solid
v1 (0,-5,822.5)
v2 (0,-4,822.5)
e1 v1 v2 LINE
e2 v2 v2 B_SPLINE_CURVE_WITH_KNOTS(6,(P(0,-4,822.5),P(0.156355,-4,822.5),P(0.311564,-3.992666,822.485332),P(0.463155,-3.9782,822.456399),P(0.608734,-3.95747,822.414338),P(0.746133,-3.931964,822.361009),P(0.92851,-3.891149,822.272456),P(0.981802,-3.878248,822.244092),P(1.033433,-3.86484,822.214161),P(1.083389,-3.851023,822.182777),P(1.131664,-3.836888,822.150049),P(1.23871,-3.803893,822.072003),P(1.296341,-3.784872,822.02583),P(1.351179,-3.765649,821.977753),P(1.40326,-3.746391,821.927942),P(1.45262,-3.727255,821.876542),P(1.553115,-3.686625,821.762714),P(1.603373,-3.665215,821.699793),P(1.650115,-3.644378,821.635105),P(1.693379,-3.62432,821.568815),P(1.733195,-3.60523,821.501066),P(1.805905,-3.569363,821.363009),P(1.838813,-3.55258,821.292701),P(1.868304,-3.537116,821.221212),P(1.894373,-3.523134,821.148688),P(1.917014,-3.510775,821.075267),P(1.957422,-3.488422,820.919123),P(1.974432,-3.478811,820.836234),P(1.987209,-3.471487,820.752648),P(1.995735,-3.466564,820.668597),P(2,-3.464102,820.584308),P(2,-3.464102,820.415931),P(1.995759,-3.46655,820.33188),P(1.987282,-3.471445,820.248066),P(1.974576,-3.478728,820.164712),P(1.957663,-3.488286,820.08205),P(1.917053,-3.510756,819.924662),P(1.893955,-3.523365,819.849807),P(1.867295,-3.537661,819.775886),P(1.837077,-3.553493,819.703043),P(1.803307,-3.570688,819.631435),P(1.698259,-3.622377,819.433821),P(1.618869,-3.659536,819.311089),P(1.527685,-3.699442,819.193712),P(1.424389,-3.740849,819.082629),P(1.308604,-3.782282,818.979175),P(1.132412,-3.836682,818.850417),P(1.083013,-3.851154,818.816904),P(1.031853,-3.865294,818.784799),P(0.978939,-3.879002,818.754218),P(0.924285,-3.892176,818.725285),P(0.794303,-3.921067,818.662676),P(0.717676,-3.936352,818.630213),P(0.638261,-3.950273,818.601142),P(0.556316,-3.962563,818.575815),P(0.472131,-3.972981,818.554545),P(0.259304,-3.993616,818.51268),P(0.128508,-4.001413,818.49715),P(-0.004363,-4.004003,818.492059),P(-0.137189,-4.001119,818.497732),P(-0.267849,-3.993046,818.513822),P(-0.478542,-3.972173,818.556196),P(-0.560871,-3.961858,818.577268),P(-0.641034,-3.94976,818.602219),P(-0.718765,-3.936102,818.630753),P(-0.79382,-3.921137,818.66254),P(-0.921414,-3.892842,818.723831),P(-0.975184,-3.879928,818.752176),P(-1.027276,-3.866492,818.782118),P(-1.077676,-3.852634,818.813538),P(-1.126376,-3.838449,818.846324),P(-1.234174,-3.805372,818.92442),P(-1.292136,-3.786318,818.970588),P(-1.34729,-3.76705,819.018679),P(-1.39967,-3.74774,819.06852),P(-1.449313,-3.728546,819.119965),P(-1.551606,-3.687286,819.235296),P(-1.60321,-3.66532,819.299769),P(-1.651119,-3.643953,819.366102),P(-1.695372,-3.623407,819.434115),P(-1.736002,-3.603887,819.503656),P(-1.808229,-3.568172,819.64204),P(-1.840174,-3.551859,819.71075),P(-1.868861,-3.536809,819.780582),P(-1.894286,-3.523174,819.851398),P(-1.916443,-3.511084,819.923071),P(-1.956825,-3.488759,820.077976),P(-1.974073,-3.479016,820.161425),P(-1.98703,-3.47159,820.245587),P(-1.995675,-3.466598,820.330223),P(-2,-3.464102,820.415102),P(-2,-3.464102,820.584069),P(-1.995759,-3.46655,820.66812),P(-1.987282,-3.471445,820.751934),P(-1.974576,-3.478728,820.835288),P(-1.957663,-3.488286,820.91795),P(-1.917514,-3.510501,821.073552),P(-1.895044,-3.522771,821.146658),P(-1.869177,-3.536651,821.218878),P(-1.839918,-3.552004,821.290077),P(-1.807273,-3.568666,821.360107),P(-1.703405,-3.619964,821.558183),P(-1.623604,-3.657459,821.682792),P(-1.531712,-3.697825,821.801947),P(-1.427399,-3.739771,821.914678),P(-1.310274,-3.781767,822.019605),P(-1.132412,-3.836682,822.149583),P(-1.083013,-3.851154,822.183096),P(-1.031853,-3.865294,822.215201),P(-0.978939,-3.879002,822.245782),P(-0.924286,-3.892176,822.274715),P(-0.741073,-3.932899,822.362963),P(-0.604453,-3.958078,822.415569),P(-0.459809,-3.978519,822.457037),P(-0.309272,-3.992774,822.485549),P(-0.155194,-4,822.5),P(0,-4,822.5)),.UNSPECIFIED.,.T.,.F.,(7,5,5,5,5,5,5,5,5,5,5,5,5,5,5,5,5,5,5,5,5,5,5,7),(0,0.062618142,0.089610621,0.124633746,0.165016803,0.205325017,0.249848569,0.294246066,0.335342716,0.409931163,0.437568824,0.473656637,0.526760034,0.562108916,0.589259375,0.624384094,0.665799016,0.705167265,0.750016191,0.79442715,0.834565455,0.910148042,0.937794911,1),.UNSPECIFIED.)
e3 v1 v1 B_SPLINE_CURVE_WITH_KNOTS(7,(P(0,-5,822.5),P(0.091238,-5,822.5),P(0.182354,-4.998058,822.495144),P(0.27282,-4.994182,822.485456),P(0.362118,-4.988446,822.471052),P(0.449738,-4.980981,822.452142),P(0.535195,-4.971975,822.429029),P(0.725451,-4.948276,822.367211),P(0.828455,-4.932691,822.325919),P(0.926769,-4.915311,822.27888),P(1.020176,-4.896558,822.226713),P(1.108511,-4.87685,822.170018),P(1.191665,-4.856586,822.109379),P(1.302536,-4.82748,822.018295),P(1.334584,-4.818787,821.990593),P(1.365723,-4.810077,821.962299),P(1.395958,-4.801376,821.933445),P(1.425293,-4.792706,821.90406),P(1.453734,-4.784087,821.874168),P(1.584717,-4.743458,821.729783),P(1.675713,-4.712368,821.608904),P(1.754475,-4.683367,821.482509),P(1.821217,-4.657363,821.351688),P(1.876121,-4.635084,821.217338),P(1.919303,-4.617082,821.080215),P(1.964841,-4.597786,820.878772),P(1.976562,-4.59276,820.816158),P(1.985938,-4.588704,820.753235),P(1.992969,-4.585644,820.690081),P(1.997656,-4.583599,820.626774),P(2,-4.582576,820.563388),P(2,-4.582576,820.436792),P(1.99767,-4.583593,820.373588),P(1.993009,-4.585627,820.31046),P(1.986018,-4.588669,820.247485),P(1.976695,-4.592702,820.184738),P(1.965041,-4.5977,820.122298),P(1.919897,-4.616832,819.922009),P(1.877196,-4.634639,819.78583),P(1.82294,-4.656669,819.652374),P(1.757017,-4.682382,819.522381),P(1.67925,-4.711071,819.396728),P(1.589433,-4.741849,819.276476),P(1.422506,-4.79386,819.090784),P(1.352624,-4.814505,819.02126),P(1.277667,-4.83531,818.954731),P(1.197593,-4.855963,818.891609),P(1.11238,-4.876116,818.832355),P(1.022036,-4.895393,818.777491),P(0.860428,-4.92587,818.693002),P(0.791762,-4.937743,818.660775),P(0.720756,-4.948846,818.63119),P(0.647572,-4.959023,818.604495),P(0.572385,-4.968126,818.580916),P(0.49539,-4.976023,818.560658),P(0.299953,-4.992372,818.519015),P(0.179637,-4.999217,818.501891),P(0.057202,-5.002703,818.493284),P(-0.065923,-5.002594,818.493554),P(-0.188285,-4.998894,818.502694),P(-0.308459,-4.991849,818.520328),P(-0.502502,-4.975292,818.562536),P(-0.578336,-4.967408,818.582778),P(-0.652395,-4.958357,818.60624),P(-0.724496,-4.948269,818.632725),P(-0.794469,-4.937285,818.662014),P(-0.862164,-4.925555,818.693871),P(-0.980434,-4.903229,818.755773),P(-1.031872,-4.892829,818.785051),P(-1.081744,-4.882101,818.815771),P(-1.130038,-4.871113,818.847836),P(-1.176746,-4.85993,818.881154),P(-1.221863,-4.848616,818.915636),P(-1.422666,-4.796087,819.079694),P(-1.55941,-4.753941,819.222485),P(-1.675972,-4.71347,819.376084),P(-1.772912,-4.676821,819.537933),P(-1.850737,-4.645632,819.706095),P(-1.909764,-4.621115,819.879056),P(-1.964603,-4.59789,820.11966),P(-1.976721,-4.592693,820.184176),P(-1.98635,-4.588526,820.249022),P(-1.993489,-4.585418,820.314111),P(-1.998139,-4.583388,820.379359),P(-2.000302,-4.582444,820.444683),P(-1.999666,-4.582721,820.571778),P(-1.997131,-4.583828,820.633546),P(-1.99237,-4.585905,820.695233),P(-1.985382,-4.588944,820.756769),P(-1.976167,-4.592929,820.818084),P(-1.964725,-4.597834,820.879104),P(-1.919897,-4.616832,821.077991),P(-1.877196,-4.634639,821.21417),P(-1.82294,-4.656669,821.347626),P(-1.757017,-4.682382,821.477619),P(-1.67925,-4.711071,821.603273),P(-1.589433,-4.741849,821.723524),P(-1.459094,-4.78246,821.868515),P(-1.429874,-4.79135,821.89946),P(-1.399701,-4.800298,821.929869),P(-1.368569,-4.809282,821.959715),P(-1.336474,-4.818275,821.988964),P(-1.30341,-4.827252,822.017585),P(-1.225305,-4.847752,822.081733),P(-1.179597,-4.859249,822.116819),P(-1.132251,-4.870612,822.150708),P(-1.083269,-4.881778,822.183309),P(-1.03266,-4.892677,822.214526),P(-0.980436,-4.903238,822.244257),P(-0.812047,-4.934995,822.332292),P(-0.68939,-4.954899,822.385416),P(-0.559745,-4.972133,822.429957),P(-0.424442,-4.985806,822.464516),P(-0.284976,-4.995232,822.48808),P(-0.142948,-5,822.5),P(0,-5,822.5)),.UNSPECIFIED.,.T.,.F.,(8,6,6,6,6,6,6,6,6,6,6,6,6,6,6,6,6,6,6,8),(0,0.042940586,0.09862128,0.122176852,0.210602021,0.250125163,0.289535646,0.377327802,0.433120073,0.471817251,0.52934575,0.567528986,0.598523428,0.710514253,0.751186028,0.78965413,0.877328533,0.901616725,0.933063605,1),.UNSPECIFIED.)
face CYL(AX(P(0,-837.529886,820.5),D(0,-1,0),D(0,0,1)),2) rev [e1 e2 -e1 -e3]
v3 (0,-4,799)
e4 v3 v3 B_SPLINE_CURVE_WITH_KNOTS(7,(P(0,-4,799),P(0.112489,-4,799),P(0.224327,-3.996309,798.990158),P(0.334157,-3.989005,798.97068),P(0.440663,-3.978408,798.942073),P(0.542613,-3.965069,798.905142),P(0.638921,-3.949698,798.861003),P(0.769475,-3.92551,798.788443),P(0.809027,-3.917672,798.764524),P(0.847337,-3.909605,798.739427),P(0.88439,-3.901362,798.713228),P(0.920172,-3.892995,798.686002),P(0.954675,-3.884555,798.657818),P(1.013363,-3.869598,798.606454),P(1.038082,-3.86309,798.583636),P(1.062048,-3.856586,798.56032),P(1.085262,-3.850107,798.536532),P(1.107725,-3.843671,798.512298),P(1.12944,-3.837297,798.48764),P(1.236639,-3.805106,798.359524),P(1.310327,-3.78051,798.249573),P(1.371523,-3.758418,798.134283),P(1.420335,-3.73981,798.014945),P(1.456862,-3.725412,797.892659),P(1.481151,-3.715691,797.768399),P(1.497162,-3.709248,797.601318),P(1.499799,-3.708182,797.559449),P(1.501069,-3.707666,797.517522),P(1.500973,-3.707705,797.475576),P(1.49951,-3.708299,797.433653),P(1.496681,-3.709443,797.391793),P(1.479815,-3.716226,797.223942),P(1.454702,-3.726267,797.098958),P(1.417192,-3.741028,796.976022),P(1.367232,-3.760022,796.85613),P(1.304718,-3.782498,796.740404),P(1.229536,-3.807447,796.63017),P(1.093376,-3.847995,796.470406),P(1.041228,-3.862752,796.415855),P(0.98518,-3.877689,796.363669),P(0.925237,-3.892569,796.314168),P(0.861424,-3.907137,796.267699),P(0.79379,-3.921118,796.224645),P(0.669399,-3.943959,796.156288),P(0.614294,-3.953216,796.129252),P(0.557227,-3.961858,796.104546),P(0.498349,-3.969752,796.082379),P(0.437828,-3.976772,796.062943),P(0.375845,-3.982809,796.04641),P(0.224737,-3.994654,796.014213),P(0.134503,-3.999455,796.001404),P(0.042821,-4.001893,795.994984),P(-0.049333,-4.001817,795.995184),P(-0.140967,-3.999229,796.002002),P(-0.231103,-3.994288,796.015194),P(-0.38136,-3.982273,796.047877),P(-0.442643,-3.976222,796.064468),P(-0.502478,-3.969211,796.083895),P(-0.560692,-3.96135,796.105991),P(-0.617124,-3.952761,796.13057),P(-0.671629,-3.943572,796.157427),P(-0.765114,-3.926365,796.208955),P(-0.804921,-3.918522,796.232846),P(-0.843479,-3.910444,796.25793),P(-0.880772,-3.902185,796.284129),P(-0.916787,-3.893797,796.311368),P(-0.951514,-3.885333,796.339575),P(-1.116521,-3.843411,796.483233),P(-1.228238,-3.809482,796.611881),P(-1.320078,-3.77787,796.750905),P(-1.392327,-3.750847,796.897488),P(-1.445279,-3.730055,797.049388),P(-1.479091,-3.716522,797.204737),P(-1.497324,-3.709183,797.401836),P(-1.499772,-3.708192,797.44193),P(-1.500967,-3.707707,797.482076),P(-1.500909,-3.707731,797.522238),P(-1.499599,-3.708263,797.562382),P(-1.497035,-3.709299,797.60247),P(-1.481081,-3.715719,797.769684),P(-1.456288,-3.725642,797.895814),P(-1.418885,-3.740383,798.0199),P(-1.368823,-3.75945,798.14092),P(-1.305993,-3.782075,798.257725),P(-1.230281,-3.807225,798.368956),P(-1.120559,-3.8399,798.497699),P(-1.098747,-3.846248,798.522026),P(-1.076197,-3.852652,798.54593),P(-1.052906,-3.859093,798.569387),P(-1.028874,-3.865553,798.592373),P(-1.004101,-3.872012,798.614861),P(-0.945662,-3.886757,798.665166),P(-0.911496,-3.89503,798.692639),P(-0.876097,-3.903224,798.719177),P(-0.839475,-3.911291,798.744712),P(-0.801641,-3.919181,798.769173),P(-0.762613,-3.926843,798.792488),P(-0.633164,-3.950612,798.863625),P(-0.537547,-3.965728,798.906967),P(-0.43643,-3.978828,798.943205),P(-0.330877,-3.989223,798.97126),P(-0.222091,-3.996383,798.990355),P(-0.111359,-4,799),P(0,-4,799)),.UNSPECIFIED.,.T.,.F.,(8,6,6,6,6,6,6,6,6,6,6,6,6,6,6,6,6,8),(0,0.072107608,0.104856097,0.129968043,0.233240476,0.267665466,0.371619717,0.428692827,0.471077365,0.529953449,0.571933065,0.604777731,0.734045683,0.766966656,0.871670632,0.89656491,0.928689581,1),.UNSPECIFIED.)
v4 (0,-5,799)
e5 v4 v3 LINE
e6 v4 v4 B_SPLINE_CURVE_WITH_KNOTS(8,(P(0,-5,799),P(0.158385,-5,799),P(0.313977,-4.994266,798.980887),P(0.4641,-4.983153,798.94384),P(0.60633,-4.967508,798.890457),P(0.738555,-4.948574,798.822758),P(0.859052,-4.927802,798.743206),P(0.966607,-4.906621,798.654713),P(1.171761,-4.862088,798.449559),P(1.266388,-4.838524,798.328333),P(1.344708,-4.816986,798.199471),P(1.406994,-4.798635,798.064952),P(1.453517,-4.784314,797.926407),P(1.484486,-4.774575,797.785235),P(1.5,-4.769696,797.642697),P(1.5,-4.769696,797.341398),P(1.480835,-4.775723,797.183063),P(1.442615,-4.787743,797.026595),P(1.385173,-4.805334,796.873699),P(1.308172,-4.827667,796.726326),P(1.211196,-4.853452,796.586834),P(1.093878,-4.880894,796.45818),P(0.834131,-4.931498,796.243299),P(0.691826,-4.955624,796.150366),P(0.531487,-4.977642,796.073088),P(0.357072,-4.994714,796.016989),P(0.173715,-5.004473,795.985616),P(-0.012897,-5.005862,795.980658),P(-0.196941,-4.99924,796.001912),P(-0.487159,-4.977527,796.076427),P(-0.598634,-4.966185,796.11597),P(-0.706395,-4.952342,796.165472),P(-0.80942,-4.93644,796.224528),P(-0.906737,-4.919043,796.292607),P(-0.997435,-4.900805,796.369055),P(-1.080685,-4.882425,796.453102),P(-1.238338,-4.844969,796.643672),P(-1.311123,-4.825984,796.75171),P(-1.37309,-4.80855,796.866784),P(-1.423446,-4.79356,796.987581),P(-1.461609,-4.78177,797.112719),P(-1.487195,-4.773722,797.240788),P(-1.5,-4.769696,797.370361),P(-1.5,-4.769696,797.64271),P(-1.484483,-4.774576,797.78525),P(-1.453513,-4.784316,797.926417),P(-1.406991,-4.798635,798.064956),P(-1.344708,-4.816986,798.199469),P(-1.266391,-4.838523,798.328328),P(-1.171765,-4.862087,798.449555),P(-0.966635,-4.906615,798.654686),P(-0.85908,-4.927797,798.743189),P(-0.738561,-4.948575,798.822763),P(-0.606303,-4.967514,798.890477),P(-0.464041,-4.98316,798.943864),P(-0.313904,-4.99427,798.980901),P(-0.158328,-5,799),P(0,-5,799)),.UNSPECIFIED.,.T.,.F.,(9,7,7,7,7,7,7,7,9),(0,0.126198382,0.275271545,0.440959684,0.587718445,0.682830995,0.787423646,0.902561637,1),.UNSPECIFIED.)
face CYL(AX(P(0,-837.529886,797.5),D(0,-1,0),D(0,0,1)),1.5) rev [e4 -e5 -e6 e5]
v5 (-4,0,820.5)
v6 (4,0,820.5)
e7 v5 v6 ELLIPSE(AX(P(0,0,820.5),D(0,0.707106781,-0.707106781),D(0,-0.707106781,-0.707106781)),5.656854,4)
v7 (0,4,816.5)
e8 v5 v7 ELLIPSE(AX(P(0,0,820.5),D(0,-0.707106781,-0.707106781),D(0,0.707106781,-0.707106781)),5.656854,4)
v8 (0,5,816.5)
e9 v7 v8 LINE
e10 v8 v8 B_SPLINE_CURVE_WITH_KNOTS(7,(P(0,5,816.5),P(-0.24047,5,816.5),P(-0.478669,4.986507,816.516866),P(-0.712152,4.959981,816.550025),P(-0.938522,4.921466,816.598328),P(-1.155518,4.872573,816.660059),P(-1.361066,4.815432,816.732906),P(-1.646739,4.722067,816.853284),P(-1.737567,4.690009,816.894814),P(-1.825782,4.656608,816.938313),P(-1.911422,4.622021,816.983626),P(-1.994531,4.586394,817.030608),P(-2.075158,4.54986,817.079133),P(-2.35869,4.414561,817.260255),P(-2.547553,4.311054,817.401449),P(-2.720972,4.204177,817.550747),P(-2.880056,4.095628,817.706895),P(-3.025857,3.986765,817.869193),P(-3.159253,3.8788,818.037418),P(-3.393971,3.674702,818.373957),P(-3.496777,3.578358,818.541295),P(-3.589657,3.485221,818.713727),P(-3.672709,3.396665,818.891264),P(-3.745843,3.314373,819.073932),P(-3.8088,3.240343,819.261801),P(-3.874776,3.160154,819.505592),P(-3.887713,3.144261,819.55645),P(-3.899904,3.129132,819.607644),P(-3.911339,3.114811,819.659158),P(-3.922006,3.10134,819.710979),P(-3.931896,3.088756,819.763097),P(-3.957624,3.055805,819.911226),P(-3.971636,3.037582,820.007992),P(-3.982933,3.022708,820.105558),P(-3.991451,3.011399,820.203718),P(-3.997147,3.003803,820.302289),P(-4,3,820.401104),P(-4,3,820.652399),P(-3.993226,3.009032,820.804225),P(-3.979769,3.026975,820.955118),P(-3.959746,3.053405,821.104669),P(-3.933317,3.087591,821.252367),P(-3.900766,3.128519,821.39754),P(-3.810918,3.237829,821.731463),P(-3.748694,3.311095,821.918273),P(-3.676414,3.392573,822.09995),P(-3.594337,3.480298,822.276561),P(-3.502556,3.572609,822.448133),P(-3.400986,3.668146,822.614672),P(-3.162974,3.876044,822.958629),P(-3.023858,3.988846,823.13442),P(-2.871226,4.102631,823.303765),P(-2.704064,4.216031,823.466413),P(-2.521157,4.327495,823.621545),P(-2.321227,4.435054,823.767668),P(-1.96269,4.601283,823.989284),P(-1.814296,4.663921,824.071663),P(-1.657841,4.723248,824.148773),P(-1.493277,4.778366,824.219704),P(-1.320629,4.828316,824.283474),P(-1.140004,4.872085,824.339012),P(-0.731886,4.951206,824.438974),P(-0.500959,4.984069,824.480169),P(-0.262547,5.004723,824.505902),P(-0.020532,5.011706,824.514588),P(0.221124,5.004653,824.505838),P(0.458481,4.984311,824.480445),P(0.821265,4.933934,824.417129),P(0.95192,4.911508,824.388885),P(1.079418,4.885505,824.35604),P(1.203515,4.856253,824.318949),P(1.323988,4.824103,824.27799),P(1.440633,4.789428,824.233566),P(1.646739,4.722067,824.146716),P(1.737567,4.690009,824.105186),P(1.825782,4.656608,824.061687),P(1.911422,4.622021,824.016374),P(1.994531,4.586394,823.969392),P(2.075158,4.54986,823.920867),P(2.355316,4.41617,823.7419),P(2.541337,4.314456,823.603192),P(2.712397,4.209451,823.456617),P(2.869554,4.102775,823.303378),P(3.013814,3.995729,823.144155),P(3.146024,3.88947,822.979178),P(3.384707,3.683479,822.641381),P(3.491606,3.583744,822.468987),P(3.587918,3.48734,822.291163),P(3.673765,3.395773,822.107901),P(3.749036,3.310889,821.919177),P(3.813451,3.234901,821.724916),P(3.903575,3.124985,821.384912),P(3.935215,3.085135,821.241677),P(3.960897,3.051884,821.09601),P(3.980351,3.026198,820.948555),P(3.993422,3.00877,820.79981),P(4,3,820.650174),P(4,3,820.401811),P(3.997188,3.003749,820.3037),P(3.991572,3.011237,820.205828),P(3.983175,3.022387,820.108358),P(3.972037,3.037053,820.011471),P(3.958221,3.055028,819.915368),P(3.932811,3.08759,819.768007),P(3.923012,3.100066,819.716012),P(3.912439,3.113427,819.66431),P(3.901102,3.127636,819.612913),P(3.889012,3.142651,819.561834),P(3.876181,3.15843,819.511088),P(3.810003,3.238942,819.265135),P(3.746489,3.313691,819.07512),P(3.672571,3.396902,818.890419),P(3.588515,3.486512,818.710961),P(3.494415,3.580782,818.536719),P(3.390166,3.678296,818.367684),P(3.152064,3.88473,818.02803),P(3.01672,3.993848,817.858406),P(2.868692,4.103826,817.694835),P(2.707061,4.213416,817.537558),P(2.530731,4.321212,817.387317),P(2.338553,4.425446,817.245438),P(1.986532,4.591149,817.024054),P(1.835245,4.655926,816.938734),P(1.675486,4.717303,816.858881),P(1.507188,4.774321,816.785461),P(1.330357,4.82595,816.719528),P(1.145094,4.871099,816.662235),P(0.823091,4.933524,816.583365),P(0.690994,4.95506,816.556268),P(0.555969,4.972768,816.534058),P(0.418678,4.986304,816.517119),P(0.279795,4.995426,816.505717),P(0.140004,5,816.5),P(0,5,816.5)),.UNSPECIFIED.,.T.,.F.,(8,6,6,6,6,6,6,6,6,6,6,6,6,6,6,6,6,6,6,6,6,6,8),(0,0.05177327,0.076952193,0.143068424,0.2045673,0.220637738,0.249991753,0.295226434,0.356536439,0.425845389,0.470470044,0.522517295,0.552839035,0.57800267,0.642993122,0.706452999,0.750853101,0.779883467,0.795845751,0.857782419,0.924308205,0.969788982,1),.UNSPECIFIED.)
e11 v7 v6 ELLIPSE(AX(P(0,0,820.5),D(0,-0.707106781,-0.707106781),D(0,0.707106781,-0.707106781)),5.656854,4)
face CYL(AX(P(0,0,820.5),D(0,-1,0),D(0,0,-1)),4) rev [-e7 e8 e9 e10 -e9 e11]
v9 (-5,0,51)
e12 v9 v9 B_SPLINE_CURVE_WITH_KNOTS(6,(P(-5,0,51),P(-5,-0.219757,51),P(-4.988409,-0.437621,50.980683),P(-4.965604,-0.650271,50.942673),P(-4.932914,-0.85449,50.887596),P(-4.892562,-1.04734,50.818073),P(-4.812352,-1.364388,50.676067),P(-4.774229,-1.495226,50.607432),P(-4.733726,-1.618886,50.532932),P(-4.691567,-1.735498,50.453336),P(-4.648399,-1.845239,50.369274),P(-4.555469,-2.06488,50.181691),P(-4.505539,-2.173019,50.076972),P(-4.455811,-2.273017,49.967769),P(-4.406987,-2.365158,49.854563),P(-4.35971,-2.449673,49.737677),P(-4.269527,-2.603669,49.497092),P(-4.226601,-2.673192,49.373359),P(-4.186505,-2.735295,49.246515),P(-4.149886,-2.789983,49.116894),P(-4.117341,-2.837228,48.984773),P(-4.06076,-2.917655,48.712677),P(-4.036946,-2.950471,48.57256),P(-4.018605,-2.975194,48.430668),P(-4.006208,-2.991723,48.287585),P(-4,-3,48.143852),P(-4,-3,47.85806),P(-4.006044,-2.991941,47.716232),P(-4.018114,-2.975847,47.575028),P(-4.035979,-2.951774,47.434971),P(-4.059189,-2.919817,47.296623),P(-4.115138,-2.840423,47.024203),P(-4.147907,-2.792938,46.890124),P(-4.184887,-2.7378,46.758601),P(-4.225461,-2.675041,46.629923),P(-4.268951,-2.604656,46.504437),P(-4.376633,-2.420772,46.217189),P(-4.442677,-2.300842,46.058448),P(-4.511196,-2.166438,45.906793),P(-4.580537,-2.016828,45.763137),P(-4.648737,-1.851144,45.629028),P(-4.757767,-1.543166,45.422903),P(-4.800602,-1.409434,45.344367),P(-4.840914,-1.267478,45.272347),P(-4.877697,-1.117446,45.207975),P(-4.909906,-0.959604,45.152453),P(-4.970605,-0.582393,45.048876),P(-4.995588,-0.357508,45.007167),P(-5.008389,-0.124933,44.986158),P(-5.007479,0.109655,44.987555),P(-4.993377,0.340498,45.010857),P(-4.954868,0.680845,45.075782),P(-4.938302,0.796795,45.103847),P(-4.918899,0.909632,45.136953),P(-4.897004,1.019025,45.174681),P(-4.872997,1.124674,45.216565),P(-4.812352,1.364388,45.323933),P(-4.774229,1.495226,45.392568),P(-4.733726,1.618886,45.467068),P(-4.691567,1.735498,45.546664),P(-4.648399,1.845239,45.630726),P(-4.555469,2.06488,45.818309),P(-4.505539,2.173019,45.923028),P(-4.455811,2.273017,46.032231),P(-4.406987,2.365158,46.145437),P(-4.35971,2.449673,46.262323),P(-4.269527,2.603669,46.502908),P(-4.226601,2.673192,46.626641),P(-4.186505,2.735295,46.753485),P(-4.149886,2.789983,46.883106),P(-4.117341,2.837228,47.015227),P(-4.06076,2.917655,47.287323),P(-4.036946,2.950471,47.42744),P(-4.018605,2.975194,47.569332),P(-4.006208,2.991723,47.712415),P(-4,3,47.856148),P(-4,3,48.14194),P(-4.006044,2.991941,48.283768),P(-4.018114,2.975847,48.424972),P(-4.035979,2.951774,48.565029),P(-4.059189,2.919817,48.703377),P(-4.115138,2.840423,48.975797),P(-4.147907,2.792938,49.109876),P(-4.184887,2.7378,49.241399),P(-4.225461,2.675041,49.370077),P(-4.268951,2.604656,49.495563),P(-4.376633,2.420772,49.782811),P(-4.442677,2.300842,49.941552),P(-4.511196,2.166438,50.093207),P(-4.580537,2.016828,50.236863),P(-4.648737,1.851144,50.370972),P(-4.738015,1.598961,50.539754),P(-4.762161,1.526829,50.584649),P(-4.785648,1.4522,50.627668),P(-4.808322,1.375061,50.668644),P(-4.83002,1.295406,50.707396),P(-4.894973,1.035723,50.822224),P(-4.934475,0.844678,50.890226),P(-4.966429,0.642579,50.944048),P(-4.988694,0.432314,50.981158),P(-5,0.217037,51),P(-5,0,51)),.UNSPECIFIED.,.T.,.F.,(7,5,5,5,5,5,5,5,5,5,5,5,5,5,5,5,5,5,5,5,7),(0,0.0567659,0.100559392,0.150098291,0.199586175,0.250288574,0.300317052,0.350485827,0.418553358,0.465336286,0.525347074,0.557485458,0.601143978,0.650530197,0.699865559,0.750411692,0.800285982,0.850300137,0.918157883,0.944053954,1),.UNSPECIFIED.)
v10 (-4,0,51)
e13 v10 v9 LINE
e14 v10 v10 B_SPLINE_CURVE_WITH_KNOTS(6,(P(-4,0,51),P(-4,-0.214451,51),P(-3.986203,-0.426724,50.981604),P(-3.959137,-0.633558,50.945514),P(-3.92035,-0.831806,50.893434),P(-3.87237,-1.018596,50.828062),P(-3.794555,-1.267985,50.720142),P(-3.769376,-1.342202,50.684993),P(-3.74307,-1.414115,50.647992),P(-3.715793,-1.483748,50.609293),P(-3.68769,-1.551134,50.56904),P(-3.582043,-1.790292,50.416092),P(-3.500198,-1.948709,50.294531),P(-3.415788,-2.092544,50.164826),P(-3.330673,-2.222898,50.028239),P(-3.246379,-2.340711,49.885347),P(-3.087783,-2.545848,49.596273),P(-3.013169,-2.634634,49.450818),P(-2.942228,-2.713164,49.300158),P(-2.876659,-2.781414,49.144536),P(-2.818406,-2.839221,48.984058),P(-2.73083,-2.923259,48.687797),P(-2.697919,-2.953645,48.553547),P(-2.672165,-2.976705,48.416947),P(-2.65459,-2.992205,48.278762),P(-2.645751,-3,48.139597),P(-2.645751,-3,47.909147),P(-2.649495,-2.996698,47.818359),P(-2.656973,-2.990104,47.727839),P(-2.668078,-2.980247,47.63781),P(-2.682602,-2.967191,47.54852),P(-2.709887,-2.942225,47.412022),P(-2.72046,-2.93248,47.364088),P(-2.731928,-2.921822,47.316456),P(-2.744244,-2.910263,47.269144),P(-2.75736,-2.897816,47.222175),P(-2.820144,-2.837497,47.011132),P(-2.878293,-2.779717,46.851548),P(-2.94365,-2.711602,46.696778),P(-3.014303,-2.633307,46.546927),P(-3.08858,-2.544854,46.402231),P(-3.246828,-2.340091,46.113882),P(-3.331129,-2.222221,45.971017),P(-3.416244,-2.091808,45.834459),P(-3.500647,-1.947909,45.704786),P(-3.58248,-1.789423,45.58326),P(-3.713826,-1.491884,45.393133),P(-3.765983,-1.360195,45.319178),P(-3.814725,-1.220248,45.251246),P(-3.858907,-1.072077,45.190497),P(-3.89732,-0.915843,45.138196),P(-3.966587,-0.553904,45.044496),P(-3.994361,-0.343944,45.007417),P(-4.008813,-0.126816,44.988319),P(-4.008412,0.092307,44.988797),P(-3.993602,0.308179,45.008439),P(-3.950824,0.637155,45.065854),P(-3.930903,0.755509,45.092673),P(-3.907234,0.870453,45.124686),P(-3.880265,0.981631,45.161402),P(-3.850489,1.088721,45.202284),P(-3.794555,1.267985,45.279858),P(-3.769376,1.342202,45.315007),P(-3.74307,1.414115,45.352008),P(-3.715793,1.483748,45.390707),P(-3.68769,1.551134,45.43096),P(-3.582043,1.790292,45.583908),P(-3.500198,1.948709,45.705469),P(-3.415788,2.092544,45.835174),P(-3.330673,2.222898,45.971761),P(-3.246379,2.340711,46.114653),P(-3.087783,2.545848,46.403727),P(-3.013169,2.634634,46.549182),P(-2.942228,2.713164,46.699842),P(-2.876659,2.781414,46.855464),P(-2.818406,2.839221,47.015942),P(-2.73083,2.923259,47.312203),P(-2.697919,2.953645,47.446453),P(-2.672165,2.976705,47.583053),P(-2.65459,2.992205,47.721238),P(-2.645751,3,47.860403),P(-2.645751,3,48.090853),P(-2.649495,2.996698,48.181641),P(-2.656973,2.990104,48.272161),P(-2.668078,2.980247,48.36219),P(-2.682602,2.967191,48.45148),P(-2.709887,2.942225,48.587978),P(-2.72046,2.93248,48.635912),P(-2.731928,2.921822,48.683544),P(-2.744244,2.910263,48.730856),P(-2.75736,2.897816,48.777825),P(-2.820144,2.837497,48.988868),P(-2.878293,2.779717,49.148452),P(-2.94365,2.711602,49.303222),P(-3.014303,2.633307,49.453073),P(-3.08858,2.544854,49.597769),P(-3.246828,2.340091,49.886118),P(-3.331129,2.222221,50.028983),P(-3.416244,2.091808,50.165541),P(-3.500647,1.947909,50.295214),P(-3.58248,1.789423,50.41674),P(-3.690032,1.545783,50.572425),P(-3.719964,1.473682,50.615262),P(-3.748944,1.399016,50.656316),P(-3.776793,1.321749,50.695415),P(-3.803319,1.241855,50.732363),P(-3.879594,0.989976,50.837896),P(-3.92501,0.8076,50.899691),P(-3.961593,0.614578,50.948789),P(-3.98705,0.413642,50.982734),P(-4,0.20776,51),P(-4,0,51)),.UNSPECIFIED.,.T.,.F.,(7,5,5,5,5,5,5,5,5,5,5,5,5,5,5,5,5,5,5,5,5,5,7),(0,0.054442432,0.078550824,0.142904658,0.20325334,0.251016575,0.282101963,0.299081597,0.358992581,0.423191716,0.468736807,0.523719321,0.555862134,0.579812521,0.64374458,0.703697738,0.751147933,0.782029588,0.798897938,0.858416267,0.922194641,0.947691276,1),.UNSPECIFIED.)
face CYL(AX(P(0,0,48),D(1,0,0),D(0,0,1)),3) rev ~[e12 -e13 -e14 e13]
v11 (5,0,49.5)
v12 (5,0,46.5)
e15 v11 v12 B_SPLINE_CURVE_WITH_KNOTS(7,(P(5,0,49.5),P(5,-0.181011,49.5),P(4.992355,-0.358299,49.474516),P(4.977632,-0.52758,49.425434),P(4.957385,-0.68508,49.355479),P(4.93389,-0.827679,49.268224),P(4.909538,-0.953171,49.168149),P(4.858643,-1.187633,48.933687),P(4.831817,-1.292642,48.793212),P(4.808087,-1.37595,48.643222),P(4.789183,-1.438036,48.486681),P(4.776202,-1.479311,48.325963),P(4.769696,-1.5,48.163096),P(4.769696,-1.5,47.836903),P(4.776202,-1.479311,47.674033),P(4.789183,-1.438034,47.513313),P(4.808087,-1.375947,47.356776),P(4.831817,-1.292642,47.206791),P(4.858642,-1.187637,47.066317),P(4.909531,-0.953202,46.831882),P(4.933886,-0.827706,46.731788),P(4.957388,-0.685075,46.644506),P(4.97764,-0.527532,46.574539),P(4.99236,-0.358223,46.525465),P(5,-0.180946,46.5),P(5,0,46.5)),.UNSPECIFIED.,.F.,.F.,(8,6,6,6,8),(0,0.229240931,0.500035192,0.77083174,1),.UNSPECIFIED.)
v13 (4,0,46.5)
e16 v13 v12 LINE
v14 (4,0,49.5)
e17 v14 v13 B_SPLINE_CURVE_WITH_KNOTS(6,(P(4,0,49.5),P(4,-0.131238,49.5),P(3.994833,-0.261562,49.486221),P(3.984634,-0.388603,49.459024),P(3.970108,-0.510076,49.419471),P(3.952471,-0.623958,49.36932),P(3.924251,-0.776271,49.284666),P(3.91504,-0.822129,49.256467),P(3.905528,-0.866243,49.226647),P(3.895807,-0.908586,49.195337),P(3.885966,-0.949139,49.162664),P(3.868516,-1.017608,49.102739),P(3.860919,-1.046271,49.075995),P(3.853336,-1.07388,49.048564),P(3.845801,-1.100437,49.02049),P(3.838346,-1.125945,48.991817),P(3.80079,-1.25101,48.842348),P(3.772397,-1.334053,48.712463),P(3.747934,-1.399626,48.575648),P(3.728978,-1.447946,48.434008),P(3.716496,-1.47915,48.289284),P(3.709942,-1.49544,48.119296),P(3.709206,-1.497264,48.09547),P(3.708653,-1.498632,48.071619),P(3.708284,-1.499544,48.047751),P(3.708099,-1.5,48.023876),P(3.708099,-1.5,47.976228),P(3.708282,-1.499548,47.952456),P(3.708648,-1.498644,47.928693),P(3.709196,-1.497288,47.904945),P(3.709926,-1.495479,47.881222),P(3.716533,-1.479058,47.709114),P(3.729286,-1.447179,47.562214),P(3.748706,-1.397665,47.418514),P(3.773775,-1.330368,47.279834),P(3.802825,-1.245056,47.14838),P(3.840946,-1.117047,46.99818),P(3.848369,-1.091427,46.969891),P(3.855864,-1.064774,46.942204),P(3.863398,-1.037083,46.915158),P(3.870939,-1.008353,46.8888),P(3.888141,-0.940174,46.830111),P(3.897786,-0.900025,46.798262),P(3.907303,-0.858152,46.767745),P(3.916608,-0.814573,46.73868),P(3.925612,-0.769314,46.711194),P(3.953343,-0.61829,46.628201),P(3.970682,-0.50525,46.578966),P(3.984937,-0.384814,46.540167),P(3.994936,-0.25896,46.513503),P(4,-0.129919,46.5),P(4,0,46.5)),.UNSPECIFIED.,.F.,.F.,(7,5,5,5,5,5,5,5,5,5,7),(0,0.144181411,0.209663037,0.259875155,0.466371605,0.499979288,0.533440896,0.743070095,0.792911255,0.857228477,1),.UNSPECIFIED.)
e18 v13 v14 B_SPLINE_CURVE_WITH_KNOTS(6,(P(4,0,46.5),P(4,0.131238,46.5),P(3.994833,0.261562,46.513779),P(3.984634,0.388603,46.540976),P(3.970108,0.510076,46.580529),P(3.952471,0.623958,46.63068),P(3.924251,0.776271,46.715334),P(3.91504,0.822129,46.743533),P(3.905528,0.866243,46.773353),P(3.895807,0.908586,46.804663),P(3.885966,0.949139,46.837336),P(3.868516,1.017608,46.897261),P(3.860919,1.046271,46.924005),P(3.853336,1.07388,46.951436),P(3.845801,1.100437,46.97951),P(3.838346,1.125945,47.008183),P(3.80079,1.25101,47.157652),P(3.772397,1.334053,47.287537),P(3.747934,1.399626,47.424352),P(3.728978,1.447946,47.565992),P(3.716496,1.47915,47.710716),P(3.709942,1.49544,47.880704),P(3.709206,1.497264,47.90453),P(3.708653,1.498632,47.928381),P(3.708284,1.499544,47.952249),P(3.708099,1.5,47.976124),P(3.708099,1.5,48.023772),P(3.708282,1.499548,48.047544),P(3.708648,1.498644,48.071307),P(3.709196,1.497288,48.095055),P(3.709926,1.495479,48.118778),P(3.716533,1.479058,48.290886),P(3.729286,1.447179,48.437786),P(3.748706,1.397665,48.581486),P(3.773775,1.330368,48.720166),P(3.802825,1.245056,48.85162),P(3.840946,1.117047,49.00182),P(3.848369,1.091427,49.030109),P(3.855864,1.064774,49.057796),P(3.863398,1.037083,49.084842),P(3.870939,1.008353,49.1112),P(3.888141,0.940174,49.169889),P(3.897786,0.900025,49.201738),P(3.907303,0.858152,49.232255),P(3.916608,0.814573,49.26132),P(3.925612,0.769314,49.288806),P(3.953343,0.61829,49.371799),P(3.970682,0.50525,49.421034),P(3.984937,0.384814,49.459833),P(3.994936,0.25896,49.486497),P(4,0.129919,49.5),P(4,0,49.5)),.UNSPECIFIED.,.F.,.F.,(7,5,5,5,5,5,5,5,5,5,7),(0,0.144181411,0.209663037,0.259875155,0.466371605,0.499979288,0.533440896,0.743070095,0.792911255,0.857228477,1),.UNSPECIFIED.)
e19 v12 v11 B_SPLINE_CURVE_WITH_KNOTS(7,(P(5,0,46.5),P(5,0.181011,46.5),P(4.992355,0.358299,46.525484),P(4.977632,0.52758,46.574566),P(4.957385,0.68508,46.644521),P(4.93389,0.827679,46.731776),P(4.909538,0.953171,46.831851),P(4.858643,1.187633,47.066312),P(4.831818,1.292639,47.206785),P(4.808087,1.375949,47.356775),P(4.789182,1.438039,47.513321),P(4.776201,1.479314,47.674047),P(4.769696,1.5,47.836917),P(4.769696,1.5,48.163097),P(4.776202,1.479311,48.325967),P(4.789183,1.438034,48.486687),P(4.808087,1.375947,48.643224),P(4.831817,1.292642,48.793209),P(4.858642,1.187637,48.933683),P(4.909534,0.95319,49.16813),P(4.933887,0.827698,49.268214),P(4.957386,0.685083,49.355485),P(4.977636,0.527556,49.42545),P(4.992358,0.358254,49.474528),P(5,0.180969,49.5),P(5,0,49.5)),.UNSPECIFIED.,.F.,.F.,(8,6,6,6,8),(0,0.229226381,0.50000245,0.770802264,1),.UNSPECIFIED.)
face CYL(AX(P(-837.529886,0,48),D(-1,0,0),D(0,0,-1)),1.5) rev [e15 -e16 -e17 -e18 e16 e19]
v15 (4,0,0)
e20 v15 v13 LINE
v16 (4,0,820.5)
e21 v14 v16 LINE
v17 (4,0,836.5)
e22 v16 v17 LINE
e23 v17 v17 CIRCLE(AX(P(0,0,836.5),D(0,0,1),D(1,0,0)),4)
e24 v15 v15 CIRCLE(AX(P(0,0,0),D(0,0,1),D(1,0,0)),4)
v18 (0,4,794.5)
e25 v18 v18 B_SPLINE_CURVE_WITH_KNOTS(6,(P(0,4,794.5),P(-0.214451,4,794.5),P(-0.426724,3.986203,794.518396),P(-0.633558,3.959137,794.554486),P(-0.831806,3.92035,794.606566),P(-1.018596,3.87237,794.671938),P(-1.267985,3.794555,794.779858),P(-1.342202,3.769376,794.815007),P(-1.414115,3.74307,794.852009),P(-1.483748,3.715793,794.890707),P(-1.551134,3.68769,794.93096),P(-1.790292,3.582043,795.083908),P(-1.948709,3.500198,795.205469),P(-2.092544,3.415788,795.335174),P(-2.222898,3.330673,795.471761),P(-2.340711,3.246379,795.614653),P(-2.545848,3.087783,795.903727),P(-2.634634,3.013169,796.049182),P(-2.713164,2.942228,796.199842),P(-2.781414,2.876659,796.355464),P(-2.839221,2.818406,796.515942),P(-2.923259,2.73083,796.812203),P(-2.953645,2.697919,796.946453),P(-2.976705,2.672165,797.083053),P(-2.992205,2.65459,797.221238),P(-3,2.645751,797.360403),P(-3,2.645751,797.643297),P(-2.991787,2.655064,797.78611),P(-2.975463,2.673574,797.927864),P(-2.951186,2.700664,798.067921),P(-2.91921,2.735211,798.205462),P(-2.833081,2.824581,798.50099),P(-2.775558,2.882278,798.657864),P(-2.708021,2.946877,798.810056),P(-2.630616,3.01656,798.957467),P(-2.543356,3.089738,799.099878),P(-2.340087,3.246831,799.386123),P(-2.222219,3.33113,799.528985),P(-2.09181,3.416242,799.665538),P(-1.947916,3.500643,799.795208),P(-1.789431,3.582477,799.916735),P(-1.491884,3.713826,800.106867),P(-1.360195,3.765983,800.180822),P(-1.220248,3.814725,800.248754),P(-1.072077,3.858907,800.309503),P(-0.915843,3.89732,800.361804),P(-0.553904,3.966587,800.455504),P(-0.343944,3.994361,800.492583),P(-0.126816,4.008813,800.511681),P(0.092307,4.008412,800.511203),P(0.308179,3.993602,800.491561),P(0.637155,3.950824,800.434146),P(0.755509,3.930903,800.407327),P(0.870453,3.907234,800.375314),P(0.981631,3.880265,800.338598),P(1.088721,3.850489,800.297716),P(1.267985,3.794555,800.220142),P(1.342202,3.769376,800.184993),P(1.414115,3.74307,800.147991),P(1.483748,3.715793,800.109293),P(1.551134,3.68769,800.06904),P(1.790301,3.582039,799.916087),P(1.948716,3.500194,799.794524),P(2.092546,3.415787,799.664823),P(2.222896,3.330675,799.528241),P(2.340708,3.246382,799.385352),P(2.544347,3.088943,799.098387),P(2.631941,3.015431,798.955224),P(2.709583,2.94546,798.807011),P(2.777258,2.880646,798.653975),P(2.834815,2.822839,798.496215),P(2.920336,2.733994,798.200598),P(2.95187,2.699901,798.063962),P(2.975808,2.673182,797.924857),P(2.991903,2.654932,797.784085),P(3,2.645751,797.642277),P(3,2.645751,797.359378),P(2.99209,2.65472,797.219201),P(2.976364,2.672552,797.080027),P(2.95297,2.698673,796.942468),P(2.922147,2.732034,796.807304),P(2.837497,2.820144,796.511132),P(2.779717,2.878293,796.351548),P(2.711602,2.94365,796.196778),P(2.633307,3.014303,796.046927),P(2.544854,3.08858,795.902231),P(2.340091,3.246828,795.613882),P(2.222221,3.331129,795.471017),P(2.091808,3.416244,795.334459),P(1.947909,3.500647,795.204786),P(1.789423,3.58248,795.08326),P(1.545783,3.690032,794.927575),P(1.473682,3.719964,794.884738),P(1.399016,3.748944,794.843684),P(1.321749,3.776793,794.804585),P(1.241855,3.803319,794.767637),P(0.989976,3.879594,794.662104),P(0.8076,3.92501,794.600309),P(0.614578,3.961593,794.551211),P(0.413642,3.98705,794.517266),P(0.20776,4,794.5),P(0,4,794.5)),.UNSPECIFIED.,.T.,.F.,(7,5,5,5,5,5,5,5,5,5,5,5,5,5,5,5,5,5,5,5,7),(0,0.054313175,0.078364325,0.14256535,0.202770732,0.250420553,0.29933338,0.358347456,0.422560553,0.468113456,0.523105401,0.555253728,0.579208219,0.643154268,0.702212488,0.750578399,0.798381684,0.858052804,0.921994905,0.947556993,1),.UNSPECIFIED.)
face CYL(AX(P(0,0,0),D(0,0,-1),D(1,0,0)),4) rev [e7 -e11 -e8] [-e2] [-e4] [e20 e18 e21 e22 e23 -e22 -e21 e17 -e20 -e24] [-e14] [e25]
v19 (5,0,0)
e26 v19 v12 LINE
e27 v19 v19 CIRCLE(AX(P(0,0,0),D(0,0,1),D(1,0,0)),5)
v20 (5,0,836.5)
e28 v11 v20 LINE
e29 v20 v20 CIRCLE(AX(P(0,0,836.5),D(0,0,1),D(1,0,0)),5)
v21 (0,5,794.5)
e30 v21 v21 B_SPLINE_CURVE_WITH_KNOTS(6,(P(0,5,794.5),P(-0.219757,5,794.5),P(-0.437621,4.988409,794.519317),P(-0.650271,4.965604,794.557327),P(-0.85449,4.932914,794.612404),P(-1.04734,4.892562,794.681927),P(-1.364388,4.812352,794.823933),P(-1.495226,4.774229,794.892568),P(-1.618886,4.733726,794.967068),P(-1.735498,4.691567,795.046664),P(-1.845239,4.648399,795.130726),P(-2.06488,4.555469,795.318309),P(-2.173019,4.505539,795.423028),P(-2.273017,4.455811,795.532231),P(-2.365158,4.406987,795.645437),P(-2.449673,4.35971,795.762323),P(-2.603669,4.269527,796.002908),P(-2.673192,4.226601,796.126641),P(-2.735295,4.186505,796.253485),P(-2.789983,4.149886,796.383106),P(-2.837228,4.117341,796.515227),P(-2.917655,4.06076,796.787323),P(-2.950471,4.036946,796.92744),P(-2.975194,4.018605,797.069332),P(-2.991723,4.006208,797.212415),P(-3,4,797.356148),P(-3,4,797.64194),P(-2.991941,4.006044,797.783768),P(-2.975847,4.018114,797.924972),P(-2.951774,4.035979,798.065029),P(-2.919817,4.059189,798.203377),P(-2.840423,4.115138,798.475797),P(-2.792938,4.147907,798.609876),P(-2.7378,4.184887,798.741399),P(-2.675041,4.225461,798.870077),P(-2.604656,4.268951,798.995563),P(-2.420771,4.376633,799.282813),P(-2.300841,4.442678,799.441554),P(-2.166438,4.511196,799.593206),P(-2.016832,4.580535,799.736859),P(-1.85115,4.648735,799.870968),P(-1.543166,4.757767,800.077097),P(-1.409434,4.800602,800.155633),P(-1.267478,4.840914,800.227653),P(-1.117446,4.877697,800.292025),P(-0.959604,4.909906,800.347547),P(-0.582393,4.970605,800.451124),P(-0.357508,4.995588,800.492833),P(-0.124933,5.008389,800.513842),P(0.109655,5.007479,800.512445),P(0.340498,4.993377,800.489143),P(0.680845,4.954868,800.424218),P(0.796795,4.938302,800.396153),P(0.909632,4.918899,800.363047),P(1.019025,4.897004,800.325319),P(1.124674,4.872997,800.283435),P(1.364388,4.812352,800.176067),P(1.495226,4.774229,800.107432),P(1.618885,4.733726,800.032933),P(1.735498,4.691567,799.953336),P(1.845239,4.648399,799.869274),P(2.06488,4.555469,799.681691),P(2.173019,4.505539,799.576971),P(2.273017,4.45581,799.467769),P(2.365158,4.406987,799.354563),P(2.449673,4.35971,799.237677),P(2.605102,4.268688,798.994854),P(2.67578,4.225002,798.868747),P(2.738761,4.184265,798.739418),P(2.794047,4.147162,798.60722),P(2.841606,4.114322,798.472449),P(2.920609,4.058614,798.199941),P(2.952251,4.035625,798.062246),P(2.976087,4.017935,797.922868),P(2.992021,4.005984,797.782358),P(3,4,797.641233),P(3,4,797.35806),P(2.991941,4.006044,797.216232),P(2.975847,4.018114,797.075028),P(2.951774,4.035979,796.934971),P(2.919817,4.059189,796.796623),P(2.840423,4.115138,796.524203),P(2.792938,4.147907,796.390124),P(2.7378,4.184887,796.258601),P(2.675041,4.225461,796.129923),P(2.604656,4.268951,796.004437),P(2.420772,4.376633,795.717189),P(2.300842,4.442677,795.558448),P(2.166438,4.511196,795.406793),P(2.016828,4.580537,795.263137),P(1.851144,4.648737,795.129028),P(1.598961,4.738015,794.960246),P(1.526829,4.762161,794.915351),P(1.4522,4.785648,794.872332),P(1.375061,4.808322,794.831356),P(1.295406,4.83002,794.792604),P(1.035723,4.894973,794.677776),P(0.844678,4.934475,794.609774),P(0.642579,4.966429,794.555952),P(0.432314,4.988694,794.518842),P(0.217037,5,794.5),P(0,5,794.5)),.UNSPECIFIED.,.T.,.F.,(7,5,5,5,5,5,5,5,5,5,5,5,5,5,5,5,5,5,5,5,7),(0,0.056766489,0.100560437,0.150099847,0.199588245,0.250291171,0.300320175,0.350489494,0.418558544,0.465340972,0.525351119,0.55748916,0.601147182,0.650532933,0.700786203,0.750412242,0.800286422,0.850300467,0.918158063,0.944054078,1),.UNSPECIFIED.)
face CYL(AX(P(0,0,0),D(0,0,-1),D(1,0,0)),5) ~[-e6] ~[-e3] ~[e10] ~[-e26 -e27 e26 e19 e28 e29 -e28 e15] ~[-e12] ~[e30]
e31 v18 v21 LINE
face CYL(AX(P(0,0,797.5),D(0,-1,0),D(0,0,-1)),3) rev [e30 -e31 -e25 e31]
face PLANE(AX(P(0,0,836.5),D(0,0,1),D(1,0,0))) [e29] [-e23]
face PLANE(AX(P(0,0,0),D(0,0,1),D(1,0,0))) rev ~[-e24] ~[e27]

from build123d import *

# Parameters (mm, degrees)
SKETCH_1_R               = 5
SKETCH_1_R_2             = 4
EXTRUDE_1_DEPTH          = 836.5
CUT_EXTRUDE_1_DEPTH      = 837.529885898
CUT_EXTRUDE_1_DEPTH_BACK = 837.529885898
SKETCH_2_R               = 2
SKETCH_2_R_2             = 1.5
SKETCH_2_3_R             = 4
SKETCH_2_3_R_2           = 3
CUT_EXTRUDE_2_DEPTH      = 837.529885999
CUT_EXTRUDE_3_DEPTH      = 837.529885999
CUT_EXTRUDE_3_DEPTH_BACK = 837.529885999
SKETCH_3_R               = 1.5
SKETCH_3_3_R             = 3
CUT_EXTRUDE_4_DEPTH      = 10


with BuildPart() as part:
    # ｽｹｯﾁ1 → 押し出し-薄板1 (new body)
    with BuildSketch(Plane.XY):
        Circle(SKETCH_1_R)
        Circle(SKETCH_1_R_2, mode=Mode.SUBTRACT)
    extrude(amount=EXTRUDE_1_DEPTH)

    # ｽｹｯﾁ2 → ｶｯﾄ - 押し出し1 (cut, two sides: drawn at the far end of the back side and taken through both)
    with BuildSketch(Plane(origin=(0, 0, 0), x_dir=(1, 0, 0), z_dir=(0, 1, 0)).offset(-CUT_EXTRUDE_1_DEPTH_BACK)):
        with Locations((0, -820.5)):
            Circle(SKETCH_2_R)
        with Locations((0, -797.5)):
            Circle(SKETCH_2_R_2)
    extrude(amount=CUT_EXTRUDE_1_DEPTH + CUT_EXTRUDE_1_DEPTH_BACK, mode=Mode.SUBTRACT)

    # ｽｹｯﾁ2<3> → ｶｯﾄ - 押し出し2 (cut, through all)
    with BuildSketch(Plane(origin=(0, 0, 0), x_dir=(1, 0, 0), z_dir=(0, 1, 0))):
        with Locations((0, -820.5)):
            Circle(SKETCH_2_3_R)
        with Locations((0, -797.5)):
            Circle(SKETCH_2_3_R_2)
    extrude(amount=CUT_EXTRUDE_2_DEPTH, mode=Mode.SUBTRACT)

    # ｽｹｯﾁ3 → ｶｯﾄ - 押し出し3 (cut, two sides: drawn at the far end of the back side and taken through both)
    with BuildSketch(Plane(origin=(0, 0, 0), x_dir=(0, 0, -1), z_dir=(1, 0, 0)).offset(-CUT_EXTRUDE_3_DEPTH_BACK)):
        with Locations((-48, 0)):
            Circle(SKETCH_3_R)
    extrude(amount=CUT_EXTRUDE_3_DEPTH + CUT_EXTRUDE_3_DEPTH_BACK, mode=Mode.SUBTRACT)

    # ｽｹｯﾁ3<3> → ｶｯﾄ - 押し出し4 (cut)
    with BuildSketch(Plane(origin=(0, 0, 0), x_dir=(0, 0, -1), z_dir=(1, 0, 0))):
        with Locations((-48, 0)):
            Circle(SKETCH_3_3_R)
    extrude(amount=-CUT_EXTRUDE_4_DEPTH, mode=Mode.SUBTRACT)


solid = part.part
